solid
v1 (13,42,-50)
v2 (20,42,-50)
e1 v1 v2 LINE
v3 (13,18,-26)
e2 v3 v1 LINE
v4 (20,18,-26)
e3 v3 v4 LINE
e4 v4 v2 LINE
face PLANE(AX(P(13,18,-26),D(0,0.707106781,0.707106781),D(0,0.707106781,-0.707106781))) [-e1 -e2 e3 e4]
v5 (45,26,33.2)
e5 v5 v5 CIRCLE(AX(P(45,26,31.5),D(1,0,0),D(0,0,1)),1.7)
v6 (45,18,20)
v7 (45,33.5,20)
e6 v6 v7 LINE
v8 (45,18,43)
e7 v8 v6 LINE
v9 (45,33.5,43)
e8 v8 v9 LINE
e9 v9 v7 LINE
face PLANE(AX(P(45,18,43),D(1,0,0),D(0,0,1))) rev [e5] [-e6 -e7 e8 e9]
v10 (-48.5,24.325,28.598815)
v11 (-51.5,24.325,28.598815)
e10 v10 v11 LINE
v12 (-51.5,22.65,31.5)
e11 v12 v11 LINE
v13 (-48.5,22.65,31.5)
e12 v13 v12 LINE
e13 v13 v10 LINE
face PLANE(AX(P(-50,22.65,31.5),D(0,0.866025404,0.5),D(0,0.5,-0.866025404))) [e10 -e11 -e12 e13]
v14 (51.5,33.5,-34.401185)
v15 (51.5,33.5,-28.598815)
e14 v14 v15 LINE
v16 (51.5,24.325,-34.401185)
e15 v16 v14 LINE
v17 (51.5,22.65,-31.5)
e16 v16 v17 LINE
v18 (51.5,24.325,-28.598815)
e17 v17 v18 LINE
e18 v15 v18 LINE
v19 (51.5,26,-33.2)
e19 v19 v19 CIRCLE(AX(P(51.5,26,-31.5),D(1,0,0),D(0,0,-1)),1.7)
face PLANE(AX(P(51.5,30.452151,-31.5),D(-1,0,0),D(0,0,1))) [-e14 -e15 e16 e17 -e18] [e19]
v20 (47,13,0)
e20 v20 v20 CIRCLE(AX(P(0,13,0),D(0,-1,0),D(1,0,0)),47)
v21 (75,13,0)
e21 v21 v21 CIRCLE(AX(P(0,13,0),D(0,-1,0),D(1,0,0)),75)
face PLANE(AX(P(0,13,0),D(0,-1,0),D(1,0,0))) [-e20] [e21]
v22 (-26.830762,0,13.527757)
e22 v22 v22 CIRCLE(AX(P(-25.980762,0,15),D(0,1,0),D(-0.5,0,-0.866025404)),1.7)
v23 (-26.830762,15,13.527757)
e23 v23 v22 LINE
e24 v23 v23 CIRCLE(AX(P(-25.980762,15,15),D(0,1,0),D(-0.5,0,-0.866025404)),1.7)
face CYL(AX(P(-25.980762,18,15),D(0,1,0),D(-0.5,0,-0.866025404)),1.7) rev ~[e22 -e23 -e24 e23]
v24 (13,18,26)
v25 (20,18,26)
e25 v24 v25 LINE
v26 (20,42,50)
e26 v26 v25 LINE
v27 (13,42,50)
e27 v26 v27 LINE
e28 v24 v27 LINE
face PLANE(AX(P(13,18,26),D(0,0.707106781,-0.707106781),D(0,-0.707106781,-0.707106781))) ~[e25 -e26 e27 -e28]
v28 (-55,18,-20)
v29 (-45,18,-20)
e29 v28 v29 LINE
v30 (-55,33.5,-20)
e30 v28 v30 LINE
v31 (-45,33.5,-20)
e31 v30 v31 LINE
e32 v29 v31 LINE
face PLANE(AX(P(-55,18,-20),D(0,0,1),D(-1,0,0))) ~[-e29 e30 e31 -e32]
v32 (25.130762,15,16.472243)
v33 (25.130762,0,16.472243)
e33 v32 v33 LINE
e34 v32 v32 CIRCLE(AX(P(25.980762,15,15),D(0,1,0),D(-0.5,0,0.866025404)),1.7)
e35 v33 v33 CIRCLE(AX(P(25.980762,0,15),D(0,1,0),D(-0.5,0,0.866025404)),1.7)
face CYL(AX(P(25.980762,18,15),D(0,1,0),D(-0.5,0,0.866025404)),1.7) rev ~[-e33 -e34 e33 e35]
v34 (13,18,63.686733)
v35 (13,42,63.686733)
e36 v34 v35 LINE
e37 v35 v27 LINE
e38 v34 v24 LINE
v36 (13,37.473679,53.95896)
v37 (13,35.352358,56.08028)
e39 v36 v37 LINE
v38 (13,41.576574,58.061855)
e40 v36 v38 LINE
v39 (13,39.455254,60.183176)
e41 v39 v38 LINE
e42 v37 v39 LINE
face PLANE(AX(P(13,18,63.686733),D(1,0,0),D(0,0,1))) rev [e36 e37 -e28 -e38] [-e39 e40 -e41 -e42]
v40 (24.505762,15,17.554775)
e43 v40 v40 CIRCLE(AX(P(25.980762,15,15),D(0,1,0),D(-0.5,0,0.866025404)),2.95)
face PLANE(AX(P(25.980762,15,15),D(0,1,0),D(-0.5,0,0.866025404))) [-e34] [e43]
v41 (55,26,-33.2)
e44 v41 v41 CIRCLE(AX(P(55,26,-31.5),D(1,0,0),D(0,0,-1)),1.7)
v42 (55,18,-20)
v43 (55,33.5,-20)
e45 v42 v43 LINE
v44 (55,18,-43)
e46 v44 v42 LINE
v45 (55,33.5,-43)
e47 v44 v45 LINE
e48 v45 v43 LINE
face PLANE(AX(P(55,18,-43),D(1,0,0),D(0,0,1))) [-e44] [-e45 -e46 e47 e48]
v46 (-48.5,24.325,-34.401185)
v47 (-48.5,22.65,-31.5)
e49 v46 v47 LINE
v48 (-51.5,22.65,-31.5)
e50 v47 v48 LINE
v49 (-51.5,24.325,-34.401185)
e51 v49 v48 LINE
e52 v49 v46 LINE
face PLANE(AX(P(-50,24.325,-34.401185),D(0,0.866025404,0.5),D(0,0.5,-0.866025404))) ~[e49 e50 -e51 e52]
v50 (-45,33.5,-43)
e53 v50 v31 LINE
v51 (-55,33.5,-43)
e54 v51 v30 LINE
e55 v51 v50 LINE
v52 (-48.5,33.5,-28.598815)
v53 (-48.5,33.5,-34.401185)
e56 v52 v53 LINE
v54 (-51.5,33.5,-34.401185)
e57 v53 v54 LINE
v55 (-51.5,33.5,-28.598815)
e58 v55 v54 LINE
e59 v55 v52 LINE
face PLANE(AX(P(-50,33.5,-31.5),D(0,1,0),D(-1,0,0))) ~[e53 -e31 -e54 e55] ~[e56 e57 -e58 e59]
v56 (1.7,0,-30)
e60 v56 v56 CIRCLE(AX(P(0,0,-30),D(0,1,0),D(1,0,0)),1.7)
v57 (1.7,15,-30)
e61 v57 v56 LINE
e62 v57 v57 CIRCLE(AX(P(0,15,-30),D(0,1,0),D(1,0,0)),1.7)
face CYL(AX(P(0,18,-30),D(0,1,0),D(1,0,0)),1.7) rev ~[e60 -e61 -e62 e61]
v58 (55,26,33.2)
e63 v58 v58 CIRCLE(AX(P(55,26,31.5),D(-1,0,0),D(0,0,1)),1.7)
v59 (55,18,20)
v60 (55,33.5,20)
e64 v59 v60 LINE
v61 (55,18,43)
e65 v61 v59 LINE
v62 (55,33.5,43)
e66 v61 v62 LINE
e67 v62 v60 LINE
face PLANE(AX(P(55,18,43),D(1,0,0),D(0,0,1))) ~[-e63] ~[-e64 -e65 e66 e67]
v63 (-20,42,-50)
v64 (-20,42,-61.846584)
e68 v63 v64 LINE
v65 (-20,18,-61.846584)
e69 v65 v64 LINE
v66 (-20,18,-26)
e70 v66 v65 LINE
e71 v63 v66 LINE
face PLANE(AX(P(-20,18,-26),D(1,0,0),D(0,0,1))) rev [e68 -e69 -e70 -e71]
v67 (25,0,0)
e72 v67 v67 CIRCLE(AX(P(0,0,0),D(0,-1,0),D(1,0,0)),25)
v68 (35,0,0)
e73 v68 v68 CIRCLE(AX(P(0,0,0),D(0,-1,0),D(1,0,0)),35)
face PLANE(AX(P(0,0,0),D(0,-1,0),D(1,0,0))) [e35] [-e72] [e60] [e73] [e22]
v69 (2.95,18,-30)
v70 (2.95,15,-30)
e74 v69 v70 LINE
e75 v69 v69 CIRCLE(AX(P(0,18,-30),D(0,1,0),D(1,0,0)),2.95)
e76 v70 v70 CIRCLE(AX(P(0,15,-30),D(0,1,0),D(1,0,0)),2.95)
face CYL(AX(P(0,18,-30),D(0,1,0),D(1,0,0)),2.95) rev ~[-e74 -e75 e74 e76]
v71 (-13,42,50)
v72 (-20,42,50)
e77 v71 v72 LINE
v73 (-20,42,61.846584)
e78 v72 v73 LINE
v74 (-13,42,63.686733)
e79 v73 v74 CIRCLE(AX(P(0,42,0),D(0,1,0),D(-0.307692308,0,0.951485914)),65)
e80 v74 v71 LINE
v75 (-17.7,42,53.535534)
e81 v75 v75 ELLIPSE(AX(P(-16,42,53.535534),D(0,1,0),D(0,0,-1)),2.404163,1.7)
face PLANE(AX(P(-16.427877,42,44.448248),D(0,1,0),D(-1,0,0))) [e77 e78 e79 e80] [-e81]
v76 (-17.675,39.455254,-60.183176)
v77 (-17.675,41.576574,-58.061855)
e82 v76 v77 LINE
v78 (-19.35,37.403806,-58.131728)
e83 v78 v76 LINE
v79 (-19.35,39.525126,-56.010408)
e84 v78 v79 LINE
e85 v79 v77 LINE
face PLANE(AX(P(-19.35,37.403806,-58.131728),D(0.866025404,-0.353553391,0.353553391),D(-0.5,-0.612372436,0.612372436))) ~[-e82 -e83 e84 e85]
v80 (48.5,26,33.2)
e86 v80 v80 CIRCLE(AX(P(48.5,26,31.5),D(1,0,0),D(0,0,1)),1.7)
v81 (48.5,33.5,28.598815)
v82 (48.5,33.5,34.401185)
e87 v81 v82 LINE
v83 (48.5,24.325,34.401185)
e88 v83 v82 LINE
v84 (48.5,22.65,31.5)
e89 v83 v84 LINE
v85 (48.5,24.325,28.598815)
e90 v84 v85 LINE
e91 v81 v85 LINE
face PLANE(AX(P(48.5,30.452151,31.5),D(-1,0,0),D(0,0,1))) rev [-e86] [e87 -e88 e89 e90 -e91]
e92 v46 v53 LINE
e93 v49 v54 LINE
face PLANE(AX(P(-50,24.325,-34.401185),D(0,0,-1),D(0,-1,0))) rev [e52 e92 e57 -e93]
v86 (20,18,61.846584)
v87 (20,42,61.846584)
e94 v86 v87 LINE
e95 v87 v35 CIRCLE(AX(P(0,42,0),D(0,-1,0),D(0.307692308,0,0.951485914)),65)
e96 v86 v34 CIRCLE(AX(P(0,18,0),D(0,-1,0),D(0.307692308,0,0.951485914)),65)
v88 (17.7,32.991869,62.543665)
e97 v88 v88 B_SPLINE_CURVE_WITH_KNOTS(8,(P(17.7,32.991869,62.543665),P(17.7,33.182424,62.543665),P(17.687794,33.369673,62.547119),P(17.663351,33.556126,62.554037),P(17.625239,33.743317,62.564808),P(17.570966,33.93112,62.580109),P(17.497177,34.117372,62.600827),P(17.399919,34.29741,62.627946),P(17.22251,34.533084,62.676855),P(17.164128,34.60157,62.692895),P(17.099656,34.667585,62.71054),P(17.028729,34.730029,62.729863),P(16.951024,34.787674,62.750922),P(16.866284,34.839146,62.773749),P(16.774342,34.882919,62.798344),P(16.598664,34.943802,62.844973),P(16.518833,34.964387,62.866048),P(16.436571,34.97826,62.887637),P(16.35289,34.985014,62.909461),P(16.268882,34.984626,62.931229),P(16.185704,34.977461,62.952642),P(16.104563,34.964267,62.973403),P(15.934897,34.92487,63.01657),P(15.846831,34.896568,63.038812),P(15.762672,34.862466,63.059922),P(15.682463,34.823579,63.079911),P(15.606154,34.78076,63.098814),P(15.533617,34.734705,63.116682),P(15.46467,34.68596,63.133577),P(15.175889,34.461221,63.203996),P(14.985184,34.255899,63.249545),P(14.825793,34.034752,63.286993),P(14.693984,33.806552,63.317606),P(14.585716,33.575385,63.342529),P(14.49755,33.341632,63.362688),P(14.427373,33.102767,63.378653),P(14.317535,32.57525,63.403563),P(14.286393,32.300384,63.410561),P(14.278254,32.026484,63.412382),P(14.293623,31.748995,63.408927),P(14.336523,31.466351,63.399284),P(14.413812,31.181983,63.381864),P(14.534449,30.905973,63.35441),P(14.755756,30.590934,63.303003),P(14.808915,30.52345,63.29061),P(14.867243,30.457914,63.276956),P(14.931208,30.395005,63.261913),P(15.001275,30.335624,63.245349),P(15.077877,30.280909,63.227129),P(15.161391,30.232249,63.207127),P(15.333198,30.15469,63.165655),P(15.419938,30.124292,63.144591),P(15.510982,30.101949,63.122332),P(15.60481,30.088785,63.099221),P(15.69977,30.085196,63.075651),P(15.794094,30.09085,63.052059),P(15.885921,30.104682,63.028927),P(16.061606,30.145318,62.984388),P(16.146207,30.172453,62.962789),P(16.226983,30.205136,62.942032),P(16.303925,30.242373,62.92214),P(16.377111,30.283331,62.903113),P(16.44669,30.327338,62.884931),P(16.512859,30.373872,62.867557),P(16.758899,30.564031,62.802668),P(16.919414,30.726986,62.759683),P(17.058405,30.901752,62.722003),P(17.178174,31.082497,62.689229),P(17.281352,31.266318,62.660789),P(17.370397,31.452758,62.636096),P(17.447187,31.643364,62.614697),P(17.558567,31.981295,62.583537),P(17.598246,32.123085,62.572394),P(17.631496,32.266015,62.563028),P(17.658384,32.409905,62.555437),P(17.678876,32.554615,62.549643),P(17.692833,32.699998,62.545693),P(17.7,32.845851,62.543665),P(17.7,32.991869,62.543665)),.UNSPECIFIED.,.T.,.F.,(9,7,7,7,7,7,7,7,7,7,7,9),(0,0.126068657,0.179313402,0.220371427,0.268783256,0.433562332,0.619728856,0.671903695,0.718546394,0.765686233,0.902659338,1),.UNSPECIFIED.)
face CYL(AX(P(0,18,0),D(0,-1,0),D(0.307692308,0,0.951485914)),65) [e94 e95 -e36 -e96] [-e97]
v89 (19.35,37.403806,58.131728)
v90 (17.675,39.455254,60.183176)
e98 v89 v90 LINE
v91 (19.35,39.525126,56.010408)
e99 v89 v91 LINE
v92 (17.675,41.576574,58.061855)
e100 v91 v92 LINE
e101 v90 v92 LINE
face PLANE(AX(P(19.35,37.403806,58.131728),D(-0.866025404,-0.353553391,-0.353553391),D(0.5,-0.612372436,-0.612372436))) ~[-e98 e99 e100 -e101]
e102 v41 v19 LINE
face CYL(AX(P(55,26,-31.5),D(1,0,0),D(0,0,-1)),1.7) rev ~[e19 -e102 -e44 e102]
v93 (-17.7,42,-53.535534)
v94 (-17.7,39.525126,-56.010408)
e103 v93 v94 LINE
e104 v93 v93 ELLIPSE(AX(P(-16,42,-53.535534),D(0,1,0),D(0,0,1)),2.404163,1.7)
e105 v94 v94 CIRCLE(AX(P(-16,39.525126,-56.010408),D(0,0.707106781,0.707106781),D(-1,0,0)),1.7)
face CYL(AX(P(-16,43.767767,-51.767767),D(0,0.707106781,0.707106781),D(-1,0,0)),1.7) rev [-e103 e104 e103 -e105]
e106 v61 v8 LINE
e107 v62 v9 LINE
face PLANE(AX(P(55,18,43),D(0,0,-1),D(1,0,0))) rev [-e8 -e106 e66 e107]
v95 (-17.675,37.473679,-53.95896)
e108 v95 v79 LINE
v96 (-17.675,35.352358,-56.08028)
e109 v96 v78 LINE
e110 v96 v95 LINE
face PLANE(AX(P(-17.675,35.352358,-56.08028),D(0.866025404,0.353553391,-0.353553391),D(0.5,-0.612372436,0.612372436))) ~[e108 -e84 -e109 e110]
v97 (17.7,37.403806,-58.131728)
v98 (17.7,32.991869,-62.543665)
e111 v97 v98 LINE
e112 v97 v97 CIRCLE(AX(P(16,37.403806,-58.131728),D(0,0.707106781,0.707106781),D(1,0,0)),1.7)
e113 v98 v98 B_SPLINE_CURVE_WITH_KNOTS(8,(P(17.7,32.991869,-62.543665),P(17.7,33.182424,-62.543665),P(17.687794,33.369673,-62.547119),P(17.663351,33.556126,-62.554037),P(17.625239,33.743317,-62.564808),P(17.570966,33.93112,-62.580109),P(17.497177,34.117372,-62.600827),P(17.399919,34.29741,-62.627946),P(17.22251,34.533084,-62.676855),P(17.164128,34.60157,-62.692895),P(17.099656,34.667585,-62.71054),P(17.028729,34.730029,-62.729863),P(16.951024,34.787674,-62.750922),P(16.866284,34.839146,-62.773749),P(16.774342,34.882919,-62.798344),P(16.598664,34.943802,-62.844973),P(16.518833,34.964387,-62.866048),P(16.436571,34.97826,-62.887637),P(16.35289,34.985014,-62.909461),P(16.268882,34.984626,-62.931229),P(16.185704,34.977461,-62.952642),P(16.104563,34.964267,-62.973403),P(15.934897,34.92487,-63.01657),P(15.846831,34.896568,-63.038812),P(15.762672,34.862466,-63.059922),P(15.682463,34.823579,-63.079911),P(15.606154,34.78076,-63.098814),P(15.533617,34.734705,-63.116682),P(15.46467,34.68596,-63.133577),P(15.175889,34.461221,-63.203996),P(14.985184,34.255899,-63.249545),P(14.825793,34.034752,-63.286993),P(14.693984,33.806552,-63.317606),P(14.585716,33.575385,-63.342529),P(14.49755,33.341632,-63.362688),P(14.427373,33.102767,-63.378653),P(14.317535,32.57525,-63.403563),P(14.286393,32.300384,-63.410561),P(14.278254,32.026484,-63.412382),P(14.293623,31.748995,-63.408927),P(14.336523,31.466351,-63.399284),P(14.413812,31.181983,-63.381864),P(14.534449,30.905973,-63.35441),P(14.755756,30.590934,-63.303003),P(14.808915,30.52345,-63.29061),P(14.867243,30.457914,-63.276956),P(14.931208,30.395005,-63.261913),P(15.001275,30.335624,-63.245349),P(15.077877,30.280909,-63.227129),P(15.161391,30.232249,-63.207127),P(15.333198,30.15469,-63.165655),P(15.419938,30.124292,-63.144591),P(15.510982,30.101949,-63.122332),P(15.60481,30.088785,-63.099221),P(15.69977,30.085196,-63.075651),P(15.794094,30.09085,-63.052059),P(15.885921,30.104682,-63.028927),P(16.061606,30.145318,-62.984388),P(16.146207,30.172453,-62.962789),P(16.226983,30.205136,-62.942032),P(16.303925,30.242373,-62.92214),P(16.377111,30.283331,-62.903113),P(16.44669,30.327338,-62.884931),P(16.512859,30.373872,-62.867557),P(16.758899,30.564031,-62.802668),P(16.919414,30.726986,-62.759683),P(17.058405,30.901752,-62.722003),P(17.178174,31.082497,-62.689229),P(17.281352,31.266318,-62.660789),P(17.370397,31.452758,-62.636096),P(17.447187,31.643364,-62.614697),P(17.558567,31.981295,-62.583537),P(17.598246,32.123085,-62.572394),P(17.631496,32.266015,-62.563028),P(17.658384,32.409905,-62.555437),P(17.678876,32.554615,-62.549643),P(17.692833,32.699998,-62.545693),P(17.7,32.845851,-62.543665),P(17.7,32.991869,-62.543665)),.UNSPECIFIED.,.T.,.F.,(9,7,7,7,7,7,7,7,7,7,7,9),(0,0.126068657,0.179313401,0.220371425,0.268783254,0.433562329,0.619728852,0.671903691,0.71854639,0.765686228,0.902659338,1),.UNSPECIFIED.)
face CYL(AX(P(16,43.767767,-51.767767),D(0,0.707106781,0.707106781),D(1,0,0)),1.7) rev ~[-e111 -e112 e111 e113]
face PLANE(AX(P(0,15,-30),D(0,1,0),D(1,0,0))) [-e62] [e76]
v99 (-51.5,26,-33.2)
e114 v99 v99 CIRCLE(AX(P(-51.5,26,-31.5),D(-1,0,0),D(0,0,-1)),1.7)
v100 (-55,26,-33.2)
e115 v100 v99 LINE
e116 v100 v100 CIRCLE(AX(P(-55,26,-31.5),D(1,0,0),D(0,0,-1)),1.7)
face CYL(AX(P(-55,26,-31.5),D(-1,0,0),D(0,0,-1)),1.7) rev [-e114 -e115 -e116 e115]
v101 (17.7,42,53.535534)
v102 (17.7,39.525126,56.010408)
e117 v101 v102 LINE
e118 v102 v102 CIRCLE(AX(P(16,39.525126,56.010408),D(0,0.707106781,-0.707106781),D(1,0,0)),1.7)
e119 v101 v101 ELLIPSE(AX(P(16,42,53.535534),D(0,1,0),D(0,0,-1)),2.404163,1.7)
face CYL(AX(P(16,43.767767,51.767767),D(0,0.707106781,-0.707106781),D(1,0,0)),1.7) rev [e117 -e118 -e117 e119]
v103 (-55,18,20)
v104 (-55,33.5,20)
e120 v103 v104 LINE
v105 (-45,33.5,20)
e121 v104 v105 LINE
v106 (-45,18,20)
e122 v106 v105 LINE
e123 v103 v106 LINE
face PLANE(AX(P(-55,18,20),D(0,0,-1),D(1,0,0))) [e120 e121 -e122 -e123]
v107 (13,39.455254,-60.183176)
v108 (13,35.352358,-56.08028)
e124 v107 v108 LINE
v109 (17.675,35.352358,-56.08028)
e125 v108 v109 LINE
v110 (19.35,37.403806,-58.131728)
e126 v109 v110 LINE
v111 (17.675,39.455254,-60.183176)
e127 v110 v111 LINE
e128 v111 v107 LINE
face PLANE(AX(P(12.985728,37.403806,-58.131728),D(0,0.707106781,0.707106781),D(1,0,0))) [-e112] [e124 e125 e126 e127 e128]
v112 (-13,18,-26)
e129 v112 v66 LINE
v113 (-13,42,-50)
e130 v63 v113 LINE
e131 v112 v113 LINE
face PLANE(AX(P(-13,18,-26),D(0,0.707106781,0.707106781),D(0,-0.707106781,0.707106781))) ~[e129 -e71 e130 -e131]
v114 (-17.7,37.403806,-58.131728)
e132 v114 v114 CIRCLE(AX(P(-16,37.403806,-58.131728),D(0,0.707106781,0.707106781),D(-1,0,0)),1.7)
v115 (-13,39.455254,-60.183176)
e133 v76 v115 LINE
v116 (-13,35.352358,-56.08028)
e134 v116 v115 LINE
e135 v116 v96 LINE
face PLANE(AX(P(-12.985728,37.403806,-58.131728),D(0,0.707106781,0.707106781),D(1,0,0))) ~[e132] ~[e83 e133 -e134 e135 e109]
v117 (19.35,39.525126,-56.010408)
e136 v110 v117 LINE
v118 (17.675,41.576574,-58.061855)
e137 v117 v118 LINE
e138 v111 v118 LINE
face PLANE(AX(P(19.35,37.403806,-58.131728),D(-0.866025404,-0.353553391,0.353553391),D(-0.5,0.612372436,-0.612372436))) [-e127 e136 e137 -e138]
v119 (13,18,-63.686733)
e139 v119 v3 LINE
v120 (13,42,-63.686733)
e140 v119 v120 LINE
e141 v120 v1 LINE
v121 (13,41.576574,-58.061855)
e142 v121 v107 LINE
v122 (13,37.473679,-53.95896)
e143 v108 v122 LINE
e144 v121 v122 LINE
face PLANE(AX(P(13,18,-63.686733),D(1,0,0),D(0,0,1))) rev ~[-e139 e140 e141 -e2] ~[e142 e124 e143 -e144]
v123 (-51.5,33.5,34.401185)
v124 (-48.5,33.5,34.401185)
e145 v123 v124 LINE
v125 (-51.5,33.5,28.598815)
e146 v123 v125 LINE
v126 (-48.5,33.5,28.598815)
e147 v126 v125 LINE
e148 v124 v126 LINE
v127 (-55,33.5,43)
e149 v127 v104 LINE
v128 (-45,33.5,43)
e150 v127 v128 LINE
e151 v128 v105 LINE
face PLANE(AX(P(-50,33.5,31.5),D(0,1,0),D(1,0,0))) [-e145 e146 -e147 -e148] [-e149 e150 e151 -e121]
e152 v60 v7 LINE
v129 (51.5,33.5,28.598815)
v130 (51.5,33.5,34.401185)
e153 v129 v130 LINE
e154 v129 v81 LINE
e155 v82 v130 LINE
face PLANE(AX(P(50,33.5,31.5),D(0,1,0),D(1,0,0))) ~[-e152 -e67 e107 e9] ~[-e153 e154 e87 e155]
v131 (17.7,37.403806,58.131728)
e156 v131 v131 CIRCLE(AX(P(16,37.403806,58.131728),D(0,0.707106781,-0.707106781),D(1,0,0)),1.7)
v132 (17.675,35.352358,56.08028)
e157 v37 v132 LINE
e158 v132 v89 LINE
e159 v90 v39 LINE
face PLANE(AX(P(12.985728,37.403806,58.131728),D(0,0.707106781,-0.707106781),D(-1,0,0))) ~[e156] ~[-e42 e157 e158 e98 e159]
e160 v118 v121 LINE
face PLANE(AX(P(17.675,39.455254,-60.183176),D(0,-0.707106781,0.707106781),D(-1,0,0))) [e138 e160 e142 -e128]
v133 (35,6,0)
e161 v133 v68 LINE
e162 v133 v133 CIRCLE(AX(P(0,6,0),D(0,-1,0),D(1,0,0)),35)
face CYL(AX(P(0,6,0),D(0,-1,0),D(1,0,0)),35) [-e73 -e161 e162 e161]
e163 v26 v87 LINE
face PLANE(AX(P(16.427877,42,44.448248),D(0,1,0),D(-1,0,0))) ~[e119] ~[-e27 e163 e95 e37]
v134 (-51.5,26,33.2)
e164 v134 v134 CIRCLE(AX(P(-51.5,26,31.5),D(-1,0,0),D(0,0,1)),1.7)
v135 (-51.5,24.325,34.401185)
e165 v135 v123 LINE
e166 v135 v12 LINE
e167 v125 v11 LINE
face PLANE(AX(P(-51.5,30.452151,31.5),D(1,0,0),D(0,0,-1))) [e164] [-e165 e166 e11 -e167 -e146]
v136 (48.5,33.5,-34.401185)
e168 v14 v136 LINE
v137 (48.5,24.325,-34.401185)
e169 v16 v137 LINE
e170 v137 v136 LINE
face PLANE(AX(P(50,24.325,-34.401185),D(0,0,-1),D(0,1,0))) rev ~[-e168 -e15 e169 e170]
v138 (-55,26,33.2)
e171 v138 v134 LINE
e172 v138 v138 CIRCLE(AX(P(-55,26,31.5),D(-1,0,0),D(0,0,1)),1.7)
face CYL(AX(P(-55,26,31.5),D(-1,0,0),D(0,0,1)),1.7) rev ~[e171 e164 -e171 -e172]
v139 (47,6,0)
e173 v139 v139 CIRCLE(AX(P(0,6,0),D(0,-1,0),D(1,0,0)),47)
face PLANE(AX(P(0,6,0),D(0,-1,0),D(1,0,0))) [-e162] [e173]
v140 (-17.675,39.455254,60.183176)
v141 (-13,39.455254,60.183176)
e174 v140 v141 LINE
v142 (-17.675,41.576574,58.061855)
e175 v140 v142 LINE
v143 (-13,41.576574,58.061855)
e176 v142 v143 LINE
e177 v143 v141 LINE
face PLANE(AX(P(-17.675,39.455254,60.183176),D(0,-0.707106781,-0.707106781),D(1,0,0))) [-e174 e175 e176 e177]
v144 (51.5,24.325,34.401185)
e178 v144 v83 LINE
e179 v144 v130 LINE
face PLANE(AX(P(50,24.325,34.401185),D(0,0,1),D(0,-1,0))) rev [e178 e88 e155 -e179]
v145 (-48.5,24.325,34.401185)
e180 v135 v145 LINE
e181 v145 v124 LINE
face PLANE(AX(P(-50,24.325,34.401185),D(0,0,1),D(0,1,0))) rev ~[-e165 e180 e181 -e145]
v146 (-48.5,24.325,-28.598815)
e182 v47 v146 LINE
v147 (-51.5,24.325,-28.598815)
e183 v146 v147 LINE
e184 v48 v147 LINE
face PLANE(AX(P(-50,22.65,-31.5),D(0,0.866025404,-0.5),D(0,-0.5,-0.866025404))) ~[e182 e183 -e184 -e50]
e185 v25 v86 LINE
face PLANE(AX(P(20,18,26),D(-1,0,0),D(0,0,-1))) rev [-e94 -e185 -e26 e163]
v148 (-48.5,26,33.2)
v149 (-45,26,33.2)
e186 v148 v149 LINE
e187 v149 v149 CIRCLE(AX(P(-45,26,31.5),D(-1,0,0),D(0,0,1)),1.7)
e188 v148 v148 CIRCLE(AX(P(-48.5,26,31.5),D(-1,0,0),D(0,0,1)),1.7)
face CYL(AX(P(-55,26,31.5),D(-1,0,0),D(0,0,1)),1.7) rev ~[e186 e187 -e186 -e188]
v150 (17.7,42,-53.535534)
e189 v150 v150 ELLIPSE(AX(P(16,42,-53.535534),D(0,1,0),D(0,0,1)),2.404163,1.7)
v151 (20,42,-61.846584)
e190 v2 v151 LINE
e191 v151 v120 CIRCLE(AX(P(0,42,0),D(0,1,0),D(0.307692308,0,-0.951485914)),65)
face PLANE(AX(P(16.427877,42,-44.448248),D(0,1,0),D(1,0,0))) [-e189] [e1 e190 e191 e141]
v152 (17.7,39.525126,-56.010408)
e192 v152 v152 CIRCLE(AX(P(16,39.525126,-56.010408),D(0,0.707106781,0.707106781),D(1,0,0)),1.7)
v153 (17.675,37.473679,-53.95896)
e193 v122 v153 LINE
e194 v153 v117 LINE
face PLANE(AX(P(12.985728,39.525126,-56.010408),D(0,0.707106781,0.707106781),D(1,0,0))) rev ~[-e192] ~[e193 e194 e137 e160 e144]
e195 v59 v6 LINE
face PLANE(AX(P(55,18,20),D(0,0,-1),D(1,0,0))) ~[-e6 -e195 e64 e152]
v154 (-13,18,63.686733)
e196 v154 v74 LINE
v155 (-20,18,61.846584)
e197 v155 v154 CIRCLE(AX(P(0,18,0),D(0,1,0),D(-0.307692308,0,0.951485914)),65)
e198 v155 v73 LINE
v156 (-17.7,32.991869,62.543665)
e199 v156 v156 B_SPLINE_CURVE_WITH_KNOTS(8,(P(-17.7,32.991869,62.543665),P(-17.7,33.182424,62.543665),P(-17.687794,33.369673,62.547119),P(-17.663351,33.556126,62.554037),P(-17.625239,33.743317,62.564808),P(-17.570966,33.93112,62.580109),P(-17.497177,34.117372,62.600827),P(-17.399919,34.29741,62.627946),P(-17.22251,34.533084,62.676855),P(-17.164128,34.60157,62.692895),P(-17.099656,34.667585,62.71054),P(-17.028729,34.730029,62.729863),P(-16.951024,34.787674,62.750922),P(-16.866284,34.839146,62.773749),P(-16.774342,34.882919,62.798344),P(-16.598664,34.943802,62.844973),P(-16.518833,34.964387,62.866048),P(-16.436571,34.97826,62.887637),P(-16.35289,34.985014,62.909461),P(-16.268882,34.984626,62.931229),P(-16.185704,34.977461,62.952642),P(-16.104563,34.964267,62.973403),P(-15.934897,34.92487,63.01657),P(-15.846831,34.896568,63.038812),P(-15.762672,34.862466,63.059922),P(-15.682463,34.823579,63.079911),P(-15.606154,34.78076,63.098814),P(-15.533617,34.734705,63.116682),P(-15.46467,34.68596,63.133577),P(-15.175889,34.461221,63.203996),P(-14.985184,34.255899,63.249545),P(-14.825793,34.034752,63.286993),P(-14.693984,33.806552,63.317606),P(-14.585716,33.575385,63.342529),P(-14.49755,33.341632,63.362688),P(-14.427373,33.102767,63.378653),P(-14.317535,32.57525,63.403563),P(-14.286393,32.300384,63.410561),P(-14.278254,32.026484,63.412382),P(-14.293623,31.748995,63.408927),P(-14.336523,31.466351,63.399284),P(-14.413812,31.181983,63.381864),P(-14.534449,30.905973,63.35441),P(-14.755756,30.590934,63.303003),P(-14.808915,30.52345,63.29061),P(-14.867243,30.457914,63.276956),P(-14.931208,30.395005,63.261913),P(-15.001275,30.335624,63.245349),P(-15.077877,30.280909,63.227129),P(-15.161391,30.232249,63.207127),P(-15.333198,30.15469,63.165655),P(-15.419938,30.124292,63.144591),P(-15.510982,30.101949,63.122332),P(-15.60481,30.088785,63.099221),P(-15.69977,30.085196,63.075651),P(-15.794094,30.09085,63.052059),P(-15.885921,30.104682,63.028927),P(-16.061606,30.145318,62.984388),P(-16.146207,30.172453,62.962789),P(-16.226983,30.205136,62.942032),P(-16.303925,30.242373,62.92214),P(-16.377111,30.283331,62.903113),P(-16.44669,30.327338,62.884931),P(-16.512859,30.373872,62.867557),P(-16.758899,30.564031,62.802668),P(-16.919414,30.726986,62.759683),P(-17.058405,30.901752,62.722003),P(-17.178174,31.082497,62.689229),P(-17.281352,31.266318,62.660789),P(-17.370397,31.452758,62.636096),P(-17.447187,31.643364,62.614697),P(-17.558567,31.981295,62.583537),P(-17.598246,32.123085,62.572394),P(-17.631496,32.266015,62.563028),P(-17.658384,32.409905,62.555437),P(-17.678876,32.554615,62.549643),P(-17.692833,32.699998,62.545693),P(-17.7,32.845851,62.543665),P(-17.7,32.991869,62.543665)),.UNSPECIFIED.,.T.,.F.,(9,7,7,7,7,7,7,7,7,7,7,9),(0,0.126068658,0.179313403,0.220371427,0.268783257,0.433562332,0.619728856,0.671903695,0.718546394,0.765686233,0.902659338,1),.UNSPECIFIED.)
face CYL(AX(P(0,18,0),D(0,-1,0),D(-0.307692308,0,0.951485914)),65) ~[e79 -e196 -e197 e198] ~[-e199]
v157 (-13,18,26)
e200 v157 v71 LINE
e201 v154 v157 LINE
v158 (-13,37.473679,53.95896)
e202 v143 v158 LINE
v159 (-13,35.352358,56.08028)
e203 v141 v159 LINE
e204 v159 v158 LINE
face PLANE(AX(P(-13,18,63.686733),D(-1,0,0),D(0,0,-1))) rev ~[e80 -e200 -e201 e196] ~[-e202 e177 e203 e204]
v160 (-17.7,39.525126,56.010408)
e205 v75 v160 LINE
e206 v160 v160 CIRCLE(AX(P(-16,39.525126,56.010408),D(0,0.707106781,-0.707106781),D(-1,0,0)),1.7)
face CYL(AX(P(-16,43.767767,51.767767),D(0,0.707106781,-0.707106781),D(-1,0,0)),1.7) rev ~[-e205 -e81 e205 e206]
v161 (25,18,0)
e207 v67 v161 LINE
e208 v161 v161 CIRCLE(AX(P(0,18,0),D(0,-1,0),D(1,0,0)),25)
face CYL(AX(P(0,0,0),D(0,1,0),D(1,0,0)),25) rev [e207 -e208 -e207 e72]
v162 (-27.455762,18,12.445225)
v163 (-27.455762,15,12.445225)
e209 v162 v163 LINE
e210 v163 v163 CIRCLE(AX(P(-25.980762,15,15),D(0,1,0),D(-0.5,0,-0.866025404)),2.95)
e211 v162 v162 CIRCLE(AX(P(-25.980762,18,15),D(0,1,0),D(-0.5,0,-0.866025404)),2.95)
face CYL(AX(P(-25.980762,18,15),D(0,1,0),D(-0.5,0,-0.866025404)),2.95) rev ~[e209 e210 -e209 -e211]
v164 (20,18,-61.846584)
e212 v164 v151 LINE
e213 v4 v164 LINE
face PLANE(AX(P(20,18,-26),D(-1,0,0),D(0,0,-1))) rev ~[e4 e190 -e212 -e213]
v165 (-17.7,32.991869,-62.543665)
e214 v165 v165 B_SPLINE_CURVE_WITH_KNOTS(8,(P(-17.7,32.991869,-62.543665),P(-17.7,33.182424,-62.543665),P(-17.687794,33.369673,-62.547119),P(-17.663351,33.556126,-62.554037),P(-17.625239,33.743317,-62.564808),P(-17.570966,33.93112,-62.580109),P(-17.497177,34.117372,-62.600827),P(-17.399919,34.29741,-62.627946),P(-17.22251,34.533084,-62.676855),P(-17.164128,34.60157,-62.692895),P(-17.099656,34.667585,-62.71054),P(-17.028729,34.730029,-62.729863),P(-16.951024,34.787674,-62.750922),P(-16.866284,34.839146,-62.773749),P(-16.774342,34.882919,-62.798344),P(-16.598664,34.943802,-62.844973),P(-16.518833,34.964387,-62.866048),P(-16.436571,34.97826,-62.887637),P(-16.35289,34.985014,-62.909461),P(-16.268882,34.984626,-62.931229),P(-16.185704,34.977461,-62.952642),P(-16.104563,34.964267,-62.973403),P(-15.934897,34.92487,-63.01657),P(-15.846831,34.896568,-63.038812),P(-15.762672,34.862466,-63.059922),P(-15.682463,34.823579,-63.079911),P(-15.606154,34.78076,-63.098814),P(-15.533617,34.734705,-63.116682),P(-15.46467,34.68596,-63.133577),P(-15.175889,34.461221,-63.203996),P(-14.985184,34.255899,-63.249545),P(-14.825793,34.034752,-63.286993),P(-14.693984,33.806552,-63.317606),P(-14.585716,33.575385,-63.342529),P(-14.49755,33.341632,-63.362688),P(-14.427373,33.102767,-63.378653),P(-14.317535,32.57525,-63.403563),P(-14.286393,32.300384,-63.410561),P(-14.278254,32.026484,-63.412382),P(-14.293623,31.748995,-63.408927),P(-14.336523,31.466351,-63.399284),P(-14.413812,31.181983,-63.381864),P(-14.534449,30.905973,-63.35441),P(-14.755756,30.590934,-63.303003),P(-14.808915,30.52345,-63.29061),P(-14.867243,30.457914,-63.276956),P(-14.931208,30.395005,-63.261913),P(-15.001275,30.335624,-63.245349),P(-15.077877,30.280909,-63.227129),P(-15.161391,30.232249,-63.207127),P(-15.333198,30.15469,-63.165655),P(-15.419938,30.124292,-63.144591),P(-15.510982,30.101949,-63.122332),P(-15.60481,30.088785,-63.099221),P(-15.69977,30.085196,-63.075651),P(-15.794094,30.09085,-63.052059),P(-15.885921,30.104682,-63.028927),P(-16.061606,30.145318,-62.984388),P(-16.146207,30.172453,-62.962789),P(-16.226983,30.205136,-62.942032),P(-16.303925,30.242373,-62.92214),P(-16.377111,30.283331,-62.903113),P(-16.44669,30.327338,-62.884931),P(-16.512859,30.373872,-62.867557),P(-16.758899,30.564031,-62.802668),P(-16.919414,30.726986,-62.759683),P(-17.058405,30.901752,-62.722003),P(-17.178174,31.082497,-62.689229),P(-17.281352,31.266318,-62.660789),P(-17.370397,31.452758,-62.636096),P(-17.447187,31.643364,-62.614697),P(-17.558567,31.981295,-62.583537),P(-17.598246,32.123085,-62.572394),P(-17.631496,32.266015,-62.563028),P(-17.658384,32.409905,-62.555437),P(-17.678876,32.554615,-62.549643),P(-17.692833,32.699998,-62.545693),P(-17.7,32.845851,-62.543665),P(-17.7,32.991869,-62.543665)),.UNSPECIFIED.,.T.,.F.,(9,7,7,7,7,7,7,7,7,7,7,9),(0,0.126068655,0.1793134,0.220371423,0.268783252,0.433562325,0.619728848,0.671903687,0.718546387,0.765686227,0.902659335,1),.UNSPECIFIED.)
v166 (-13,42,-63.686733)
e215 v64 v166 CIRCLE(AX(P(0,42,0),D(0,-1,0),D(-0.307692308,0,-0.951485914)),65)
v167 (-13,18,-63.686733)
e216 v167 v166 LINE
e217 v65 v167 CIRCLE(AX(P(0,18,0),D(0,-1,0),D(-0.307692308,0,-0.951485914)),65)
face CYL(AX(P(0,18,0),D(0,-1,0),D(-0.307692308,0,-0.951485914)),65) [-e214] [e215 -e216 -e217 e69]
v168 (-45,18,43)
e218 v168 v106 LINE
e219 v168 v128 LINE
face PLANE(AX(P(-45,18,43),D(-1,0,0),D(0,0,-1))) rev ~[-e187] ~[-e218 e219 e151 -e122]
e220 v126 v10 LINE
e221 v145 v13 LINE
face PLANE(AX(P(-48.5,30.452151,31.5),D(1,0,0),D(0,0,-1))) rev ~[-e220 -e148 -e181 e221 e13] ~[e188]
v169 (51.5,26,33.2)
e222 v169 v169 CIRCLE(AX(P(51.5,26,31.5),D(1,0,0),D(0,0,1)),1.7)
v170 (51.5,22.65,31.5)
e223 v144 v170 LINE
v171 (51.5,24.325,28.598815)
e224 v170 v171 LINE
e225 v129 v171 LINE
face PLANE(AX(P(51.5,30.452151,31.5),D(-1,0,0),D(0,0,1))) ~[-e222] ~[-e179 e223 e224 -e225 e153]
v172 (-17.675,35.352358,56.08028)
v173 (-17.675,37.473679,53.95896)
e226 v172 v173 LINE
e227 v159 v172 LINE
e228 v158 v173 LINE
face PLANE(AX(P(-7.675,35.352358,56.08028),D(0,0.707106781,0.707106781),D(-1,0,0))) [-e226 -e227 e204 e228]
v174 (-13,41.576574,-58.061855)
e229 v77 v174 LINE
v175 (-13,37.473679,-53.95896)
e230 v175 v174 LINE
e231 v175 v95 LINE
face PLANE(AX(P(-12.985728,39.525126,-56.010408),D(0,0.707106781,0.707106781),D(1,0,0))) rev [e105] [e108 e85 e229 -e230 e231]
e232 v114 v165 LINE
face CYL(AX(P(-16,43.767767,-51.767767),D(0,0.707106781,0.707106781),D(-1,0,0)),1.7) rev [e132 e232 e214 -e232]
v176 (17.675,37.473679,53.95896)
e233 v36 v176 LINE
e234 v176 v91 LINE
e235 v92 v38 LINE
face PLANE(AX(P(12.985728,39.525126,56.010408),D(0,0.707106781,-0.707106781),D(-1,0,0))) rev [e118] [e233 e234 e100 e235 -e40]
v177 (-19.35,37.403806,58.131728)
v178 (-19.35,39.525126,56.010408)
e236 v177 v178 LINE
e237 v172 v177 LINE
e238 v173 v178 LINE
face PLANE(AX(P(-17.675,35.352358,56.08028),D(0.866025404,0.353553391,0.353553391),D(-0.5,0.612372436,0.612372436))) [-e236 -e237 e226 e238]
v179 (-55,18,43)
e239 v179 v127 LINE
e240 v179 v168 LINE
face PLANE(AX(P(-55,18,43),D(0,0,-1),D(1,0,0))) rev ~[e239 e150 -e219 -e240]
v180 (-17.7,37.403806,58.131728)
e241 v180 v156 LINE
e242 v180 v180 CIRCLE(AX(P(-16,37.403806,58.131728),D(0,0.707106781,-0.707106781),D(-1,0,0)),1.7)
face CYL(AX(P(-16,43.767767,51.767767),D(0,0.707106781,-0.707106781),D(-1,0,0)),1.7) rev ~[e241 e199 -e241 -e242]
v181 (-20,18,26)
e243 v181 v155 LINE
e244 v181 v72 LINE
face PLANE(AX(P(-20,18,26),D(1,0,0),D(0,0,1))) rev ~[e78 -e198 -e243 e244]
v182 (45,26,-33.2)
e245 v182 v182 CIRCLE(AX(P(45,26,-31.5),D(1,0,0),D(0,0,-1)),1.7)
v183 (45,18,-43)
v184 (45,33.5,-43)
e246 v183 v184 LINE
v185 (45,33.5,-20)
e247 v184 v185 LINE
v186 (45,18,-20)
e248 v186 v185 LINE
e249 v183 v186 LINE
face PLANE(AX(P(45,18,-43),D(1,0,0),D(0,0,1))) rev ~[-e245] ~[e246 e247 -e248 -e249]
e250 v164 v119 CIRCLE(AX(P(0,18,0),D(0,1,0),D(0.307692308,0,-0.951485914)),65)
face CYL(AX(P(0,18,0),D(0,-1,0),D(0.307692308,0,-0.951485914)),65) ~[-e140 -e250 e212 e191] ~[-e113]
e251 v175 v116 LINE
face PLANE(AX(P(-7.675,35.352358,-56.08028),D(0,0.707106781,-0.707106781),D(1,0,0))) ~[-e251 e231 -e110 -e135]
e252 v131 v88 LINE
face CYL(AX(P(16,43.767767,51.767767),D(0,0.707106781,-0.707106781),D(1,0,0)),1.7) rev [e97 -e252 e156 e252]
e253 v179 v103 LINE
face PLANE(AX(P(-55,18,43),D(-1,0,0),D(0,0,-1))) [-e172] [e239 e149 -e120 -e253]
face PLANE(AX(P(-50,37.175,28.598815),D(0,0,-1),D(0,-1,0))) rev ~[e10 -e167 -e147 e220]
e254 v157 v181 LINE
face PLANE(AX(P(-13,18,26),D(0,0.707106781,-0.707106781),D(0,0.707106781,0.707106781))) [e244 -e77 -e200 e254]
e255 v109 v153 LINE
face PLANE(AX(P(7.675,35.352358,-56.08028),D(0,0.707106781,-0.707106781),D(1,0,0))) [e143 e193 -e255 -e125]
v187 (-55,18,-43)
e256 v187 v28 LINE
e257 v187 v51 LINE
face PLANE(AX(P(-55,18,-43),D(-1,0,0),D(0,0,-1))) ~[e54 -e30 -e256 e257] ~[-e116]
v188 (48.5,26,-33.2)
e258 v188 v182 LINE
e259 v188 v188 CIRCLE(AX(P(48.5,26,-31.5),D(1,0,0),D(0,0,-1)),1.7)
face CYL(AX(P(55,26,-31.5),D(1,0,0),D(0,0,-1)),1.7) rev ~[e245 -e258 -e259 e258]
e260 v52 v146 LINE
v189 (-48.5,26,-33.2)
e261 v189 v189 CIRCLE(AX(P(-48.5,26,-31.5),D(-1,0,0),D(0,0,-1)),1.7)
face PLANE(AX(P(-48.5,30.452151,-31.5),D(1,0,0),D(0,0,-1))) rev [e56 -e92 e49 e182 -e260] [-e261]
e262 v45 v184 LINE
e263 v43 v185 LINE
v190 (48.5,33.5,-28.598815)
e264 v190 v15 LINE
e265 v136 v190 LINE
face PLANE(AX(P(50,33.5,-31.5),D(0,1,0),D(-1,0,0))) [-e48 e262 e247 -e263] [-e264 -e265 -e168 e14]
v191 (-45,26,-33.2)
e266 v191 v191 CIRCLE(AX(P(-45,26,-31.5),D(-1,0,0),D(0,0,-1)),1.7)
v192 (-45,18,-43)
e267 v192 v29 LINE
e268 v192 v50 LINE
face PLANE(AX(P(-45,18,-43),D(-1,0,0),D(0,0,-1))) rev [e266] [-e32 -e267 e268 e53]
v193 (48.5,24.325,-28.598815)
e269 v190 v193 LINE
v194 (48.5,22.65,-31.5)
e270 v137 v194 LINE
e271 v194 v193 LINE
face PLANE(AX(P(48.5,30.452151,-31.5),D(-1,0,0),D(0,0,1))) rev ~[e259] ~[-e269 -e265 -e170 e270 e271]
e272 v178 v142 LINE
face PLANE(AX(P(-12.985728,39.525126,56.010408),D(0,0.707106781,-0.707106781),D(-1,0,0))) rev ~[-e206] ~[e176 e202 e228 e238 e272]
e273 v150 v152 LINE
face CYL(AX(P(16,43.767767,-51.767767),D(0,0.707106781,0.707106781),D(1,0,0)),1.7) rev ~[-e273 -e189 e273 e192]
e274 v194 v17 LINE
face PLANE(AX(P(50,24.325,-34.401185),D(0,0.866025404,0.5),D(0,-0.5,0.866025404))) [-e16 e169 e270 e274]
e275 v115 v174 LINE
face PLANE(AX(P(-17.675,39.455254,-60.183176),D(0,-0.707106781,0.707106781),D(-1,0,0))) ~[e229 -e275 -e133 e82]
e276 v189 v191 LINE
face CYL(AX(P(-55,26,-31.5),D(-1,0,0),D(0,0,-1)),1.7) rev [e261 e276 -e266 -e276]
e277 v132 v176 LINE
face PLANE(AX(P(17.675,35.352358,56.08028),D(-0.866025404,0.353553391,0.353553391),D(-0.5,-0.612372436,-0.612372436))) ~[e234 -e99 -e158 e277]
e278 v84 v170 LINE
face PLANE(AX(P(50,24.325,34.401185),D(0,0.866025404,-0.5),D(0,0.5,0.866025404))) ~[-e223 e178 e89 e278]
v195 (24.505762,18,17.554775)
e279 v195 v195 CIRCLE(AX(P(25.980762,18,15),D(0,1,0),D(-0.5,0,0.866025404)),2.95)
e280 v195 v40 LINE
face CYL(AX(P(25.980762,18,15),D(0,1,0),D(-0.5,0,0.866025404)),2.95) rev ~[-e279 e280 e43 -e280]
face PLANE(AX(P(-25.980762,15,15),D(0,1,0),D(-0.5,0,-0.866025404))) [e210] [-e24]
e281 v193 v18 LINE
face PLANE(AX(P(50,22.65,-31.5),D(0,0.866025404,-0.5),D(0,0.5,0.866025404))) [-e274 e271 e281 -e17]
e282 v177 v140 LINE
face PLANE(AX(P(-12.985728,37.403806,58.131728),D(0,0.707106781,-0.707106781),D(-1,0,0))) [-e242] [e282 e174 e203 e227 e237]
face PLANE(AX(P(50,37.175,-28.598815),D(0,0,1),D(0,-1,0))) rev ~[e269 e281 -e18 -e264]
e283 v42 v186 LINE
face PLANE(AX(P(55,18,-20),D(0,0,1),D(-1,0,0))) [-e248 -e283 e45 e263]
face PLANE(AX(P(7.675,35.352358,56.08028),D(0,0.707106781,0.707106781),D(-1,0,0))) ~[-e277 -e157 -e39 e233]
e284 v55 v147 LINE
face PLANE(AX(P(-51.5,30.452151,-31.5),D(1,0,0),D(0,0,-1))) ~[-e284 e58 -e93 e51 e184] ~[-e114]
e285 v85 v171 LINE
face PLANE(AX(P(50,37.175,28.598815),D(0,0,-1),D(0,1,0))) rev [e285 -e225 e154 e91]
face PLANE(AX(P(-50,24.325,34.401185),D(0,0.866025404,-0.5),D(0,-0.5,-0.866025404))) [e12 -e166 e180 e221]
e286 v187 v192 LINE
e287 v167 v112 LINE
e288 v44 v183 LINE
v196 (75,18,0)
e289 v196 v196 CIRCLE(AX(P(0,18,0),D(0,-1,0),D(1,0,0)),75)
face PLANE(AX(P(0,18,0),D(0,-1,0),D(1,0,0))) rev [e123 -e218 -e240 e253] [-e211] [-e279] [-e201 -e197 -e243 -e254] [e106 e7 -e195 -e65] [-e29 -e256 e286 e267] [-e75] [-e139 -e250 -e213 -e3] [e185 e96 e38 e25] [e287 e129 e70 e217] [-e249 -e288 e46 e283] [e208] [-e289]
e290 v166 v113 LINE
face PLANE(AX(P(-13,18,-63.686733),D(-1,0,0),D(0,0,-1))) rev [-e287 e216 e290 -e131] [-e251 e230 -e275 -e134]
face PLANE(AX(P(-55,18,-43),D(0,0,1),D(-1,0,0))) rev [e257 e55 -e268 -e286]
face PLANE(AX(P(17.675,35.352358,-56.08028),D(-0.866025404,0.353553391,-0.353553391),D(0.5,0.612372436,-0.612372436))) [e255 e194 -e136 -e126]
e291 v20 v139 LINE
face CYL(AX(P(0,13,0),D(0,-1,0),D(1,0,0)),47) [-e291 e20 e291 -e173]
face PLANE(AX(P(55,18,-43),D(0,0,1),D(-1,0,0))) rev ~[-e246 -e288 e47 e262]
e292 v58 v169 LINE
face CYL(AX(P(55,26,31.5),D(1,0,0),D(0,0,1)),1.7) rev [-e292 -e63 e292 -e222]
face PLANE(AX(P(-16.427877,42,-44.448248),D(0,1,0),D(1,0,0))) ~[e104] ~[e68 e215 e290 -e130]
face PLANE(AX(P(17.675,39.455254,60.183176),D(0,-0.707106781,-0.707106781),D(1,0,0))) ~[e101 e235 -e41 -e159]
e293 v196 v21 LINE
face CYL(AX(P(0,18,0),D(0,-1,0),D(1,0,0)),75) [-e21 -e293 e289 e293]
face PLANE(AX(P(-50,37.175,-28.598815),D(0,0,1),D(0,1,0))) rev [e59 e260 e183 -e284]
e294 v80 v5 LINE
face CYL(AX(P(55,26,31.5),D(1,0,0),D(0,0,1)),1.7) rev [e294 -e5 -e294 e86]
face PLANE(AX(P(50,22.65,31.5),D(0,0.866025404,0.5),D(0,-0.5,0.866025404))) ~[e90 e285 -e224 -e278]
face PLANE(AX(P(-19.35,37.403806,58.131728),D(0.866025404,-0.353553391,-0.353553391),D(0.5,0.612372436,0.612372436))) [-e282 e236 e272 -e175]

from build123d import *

# Parameters (mm, degrees)
CROQUIS2_W                = 10
CROQUIS2_H                = 23
SALIENTE_EXTRUIR1_DEPTH   = 15.5
CROQUIS3_R                = 1.7
CORTAR_EXTRUIR1_DEPTH     = 15
CORTAR_EXTRUIR2_DEPTH     = 1.5
SIMETR_A2_COPY_1_SKETCH_W = 10
SIMETR_A2_COPY_1_SKETCH_H = 23
SIMETR_A2_COPY_1_DEPTH    = 15.5
SIMETR_A2_COPY_2_SKETCH_R = 1.7
SIMETR_A2_COPY_2_DEPTH    = 15
SIMETR_A2_COPY_3_DEPTH    = 1.5
CROQUIS5_R                = 1.7
CORTAR_EXTRUIR3_DEPTH     = 40.5
CROQUIS6_R                = 2.95
CORTAR_EXTRUIR4_DEPTH     = 3
MATRIZC1_COUNT            = 3
SALIENTE_EXTRUIR2_DEPTH   = 24
CORTAR_EXTRUIR5_DEPTH     = 10
CROQUIS9_R                = 1.7
CORTAR_EXTRUIR6_DEPTH     = 20
CORTAR_EXTRUIR7_DEPTH     = 3
SIMETR_A4_COPY_1_DEPTH    = 24
SIMETR_A4_COPY_2_DEPTH    = 10
SIMETR_A4_COPY_3_SKETCH_R = 1.7
SIMETR_A4_COPY_3_DEPTH    = 20
SIMETR_A4_COPY_4_DEPTH    = 3


with BuildPart() as part:
    # Croquis1 → Revolución1 (revolve)
    with BuildSketch(Plane.XY):
        Polygon((25, 0), (25, 18), (75, 18), (75, 13), (47, 13), (47, 6), (35, 6), (35, 0), align=None)
    revolve(axis=Axis((0, 49.685096011, 0), (0, -1, 0)))

    # Croquis2 → Saliente-Extruir1 (add)
    with BuildSketch(Plane(origin=(0, 18, 0), x_dir=(1, 0, 0), z_dir=(0, 1, 0))):
        with Locations((-50, -31.5)):
            Rectangle(CROQUIS2_W, CROQUIS2_H)
    saliente_extruir1 = extrude(amount=SALIENTE_EXTRUIR1_DEPTH)

    # Croquis3 → Cortar-Extruir1 (cut)
    with BuildSketch(Plane.ZY.offset(55)):
        with Locations((31.5, 26)):
            Circle(CROQUIS3_R)
    cortar_extruir1 = extrude(amount=-CORTAR_EXTRUIR1_DEPTH, mode=Mode.SUBTRACT)

    # Croquis4 → Cortar-Extruir2 (cut, symmetric)
    with BuildSketch(Plane.ZY.offset(50)):
        Polygon((28.598814897, 27.175), (28.598814897, 37.175), (34.401185103, 37.175), (34.401185103, 27.175), (34.401185103, 24.325), (31.5, 22.65), (28.598814897, 24.325), align=None)
    cortar_extruir2 = extrude(amount=CORTAR_EXTRUIR2_DEPTH, both=True, mode=Mode.SUBTRACT)

    # Simetría1: Saliente-Extruir1, Cortar-Extruir1, Cortar-Extruir2 across plane
    add(saliente_extruir1.mirror(Plane(origin=(0, 0, 0), x_dir=(0, 0, 1), z_dir=(1, 0, 0))))
    add(cortar_extruir1.mirror(Plane(origin=(0, 0, 0), x_dir=(0, 0, 1), z_dir=(1, 0, 0))), mode=Mode.SUBTRACT)
    add(cortar_extruir2.mirror(Plane(origin=(0, 0, 0), x_dir=(0, 0, 1), z_dir=(1, 0, 0))), mode=Mode.SUBTRACT)

    # Simetría2: Saliente-Extruir1, Cortar-Extruir1, Cortar-Extruir2 across plane
    add(saliente_extruir1.mirror(Plane.XY))
    add(cortar_extruir1.mirror(Plane.XY), mode=Mode.SUBTRACT)
    add(cortar_extruir2.mirror(Plane.XY), mode=Mode.SUBTRACT)

    # Simetría2 copy 1 sketch → Simetría2 copy 1 (add)
    with BuildSketch(Plane(origin=(0, 18, 0), x_dir=(-1, 0, 0), z_dir=(0, 1, 0))):
        with Locations((-50, -31.5)):
            Rectangle(SIMETR_A2_COPY_1_SKETCH_W, SIMETR_A2_COPY_1_SKETCH_H)
    extrude(amount=SIMETR_A2_COPY_1_DEPTH)

    # Simetría2 copy 2 sketch → Simetría2 copy 2 (cut)
    with BuildSketch(Plane(origin=(55, 0, 0), x_dir=(0, 0, -1), z_dir=(1, 0, 0))):
        with Locations((31.5, 26)):
            Circle(SIMETR_A2_COPY_2_SKETCH_R)
    extrude(amount=-SIMETR_A2_COPY_2_DEPTH, mode=Mode.SUBTRACT)

    # Simetría2 copy 3 sketch → Simetría2 copy 3 (cut, symmetric)
    with BuildSketch(Plane(origin=(50, 0, 0), x_dir=(0, 0, -1), z_dir=(1, 0, 0))):
        Polygon((28.598814897, 27.175), (28.598814897, 37.175), (34.401185103, 37.175), (34.401185103, 27.175), (34.401185103, 24.325), (31.5, 22.65), (28.598814897, 24.325), align=None)
    extrude(amount=SIMETR_A2_COPY_3_DEPTH, both=True, mode=Mode.SUBTRACT)

    # Croquis5 → Cortar-Extruir3 (cut)
    with BuildSketch(Plane(origin=(0, 18, 0), x_dir=(1, 0, 0), z_dir=(0, 1, 0))):
        with Locations((0, 30)):
            Circle(CROQUIS5_R)
    cortar_extruir3 = extrude(amount=-CORTAR_EXTRUIR3_DEPTH, mode=Mode.SUBTRACT)

    # Croquis6 → Cortar-Extruir4 (cut)
    with BuildSketch(Plane(origin=(0, 18, 0), x_dir=(1, 0, 0), z_dir=(0, 1, 0))):
        with Locations((0, 30)):
            Circle(CROQUIS6_R)
    cortar_extruir4 = extrude(amount=-CORTAR_EXTRUIR4_DEPTH, mode=Mode.SUBTRACT)

    # MatrizC1: Cortar-Extruir3, Cortar-Extruir4 ×3 about axis
    matrizc1_axis = Axis((0, 0, 0), (0, 1, 0))
    for i in range(1, MATRIZC1_COUNT):
        add(cortar_extruir3.rotate(matrizc1_axis, i * 360 / MATRIZC1_COUNT), mode=Mode.SUBTRACT)
        add(cortar_extruir4.rotate(matrizc1_axis, i * 360 / MATRIZC1_COUNT), mode=Mode.SUBTRACT)

    # Croquis7 → Saliente-Extruir2 (add)
    with BuildSketch(Plane(origin=(0, 18, 0), x_dir=(1, 0, 0), z_dir=(0, 1, 0))):
        with BuildLine():
            Line((13, 63.686733312), (13, 26))
            Line((13, 26), (20, 26))
            Line((20, 26), (20, 61.846584384))
            ThreePointArc((20, 61.846584384), (16.525632727, 62.864166764), (13, 63.686733312))
        make_face()
    saliente_extruir2 = extrude(amount=SALIENTE_EXTRUIR2_DEPTH)

    # Croquis8 → Cortar-Extruir5 (cut)
    with BuildSketch(Plane.ZY.offset(-13)):
        Polygon((-26, 18), (-71, 63), (-26, 63), align=None)
    cortar_extruir5 = extrude(amount=-CORTAR_EXTRUIR5_DEPTH, mode=Mode.SUBTRACT)

    # Croquis9 → Cortar-Extruir6 (cut)
    with BuildSketch(Plane(origin=(0, -4, -4), x_dir=(1, 0, 0), z_dir=(0, 0.707106781, 0.707106781))):
        with Locations((16, 67.553823869)):
            Circle(CROQUIS9_R)
    cortar_extruir6 = extrude(amount=-CORTAR_EXTRUIR6_DEPTH, mode=Mode.SUBTRACT)

    # Croquis10 → Cortar-Extruir7 (cut)
    with BuildSketch(Plane(origin=(0, -10.363961031, -10.363961031), x_dir=(1, 0, 0), z_dir=(0, 0.707106781, 0.707106781))):
        Polygon((17.675, 64.652638766), (19.35, 67.553823869), (17.675, 70.455008972), (14.325, 70.455008972), (7.675, 70.455008972), (7.675, 64.652638766), (14.325, 64.652638766), align=None)
    cortar_extruir7 = extrude(amount=CORTAR_EXTRUIR7_DEPTH, mode=Mode.SUBTRACT)

    # Simetría3: Saliente-Extruir2, Cortar-Extruir5, Cortar-Extruir6, Cortar-Extruir7 across plane
    add(saliente_extruir2.mirror(Plane(origin=(0, 0, 0), x_dir=(0, 0, 1), z_dir=(1, 0, 0))))
    add(cortar_extruir5.mirror(Plane(origin=(0, 0, 0), x_dir=(0, 0, 1), z_dir=(1, 0, 0))), mode=Mode.SUBTRACT)
    add(cortar_extruir6.mirror(Plane(origin=(0, 0, 0), x_dir=(0, 0, 1), z_dir=(1, 0, 0))), mode=Mode.SUBTRACT)
    add(cortar_extruir7.mirror(Plane(origin=(0, 0, 0), x_dir=(0, 0, 1), z_dir=(1, 0, 0))), mode=Mode.SUBTRACT)

    # Simetría4: Saliente-Extruir2, Cortar-Extruir5, Cortar-Extruir6, Cortar-Extruir7 across plane
    add(saliente_extruir2.mirror(Plane.XY))
    add(cortar_extruir5.mirror(Plane.XY), mode=Mode.SUBTRACT)
    add(cortar_extruir6.mirror(Plane.XY), mode=Mode.SUBTRACT)
    add(cortar_extruir7.mirror(Plane.XY), mode=Mode.SUBTRACT)

    # Simetría4 copy 1 sketch → Simetría4 copy 1 (add)
    with BuildSketch(Plane(origin=(0, 18, 0), x_dir=(-1, 0, 0), z_dir=(0, 1, 0))):
        with BuildLine():
            Line((13, 63.686733312), (13, 26))
            Line((13, 26), (20, 26))
            Line((20, 26), (20, 61.846584384))
            ThreePointArc((20, 61.846584384), (16.525632727, 62.864166764), (13, 63.686733312))
        make_face()
    extrude(amount=SIMETR_A4_COPY_1_DEPTH)

    # Simetría4 copy 2 sketch → Simetría4 copy 2 (cut)
    with BuildSketch(Plane(origin=(-13, 0, 0), x_dir=(0, 0, -1), z_dir=(1, 0, 0))):
        Polygon((-26, 18), (-71, 63), (-26, 63), align=None)
    extrude(amount=-SIMETR_A4_COPY_2_DEPTH, mode=Mode.SUBTRACT)

    # Simetría4 copy 3 sketch → Simetría4 copy 3 (cut)
    with BuildSketch(Plane(origin=(0, -4, 4), x_dir=(-1, 0, 0), z_dir=(0, 0.707106781, -0.707106781))):
        with Locations((16, 67.553823869)):
            Circle(SIMETR_A4_COPY_3_SKETCH_R)
    extrude(amount=-SIMETR_A4_COPY_3_DEPTH, mode=Mode.SUBTRACT)

    # Simetría4 copy 4 sketch → Simetría4 copy 4 (cut)
    with BuildSketch(Plane(origin=(0, -10.363961031, 10.363961031), x_dir=(-1, 0, 0), z_dir=(0, 0.707106781, -0.707106781))):
        Polygon((17.675, 64.652638766), (19.35, 67.553823869), (17.675, 70.455008972), (14.325, 70.455008972), (7.675, 70.455008972), (7.675, 64.652638766), (14.325, 64.652638766), align=None)
    extrude(amount=SIMETR_A4_COPY_4_DEPTH, mode=Mode.SUBTRACT)


solid = part.part
